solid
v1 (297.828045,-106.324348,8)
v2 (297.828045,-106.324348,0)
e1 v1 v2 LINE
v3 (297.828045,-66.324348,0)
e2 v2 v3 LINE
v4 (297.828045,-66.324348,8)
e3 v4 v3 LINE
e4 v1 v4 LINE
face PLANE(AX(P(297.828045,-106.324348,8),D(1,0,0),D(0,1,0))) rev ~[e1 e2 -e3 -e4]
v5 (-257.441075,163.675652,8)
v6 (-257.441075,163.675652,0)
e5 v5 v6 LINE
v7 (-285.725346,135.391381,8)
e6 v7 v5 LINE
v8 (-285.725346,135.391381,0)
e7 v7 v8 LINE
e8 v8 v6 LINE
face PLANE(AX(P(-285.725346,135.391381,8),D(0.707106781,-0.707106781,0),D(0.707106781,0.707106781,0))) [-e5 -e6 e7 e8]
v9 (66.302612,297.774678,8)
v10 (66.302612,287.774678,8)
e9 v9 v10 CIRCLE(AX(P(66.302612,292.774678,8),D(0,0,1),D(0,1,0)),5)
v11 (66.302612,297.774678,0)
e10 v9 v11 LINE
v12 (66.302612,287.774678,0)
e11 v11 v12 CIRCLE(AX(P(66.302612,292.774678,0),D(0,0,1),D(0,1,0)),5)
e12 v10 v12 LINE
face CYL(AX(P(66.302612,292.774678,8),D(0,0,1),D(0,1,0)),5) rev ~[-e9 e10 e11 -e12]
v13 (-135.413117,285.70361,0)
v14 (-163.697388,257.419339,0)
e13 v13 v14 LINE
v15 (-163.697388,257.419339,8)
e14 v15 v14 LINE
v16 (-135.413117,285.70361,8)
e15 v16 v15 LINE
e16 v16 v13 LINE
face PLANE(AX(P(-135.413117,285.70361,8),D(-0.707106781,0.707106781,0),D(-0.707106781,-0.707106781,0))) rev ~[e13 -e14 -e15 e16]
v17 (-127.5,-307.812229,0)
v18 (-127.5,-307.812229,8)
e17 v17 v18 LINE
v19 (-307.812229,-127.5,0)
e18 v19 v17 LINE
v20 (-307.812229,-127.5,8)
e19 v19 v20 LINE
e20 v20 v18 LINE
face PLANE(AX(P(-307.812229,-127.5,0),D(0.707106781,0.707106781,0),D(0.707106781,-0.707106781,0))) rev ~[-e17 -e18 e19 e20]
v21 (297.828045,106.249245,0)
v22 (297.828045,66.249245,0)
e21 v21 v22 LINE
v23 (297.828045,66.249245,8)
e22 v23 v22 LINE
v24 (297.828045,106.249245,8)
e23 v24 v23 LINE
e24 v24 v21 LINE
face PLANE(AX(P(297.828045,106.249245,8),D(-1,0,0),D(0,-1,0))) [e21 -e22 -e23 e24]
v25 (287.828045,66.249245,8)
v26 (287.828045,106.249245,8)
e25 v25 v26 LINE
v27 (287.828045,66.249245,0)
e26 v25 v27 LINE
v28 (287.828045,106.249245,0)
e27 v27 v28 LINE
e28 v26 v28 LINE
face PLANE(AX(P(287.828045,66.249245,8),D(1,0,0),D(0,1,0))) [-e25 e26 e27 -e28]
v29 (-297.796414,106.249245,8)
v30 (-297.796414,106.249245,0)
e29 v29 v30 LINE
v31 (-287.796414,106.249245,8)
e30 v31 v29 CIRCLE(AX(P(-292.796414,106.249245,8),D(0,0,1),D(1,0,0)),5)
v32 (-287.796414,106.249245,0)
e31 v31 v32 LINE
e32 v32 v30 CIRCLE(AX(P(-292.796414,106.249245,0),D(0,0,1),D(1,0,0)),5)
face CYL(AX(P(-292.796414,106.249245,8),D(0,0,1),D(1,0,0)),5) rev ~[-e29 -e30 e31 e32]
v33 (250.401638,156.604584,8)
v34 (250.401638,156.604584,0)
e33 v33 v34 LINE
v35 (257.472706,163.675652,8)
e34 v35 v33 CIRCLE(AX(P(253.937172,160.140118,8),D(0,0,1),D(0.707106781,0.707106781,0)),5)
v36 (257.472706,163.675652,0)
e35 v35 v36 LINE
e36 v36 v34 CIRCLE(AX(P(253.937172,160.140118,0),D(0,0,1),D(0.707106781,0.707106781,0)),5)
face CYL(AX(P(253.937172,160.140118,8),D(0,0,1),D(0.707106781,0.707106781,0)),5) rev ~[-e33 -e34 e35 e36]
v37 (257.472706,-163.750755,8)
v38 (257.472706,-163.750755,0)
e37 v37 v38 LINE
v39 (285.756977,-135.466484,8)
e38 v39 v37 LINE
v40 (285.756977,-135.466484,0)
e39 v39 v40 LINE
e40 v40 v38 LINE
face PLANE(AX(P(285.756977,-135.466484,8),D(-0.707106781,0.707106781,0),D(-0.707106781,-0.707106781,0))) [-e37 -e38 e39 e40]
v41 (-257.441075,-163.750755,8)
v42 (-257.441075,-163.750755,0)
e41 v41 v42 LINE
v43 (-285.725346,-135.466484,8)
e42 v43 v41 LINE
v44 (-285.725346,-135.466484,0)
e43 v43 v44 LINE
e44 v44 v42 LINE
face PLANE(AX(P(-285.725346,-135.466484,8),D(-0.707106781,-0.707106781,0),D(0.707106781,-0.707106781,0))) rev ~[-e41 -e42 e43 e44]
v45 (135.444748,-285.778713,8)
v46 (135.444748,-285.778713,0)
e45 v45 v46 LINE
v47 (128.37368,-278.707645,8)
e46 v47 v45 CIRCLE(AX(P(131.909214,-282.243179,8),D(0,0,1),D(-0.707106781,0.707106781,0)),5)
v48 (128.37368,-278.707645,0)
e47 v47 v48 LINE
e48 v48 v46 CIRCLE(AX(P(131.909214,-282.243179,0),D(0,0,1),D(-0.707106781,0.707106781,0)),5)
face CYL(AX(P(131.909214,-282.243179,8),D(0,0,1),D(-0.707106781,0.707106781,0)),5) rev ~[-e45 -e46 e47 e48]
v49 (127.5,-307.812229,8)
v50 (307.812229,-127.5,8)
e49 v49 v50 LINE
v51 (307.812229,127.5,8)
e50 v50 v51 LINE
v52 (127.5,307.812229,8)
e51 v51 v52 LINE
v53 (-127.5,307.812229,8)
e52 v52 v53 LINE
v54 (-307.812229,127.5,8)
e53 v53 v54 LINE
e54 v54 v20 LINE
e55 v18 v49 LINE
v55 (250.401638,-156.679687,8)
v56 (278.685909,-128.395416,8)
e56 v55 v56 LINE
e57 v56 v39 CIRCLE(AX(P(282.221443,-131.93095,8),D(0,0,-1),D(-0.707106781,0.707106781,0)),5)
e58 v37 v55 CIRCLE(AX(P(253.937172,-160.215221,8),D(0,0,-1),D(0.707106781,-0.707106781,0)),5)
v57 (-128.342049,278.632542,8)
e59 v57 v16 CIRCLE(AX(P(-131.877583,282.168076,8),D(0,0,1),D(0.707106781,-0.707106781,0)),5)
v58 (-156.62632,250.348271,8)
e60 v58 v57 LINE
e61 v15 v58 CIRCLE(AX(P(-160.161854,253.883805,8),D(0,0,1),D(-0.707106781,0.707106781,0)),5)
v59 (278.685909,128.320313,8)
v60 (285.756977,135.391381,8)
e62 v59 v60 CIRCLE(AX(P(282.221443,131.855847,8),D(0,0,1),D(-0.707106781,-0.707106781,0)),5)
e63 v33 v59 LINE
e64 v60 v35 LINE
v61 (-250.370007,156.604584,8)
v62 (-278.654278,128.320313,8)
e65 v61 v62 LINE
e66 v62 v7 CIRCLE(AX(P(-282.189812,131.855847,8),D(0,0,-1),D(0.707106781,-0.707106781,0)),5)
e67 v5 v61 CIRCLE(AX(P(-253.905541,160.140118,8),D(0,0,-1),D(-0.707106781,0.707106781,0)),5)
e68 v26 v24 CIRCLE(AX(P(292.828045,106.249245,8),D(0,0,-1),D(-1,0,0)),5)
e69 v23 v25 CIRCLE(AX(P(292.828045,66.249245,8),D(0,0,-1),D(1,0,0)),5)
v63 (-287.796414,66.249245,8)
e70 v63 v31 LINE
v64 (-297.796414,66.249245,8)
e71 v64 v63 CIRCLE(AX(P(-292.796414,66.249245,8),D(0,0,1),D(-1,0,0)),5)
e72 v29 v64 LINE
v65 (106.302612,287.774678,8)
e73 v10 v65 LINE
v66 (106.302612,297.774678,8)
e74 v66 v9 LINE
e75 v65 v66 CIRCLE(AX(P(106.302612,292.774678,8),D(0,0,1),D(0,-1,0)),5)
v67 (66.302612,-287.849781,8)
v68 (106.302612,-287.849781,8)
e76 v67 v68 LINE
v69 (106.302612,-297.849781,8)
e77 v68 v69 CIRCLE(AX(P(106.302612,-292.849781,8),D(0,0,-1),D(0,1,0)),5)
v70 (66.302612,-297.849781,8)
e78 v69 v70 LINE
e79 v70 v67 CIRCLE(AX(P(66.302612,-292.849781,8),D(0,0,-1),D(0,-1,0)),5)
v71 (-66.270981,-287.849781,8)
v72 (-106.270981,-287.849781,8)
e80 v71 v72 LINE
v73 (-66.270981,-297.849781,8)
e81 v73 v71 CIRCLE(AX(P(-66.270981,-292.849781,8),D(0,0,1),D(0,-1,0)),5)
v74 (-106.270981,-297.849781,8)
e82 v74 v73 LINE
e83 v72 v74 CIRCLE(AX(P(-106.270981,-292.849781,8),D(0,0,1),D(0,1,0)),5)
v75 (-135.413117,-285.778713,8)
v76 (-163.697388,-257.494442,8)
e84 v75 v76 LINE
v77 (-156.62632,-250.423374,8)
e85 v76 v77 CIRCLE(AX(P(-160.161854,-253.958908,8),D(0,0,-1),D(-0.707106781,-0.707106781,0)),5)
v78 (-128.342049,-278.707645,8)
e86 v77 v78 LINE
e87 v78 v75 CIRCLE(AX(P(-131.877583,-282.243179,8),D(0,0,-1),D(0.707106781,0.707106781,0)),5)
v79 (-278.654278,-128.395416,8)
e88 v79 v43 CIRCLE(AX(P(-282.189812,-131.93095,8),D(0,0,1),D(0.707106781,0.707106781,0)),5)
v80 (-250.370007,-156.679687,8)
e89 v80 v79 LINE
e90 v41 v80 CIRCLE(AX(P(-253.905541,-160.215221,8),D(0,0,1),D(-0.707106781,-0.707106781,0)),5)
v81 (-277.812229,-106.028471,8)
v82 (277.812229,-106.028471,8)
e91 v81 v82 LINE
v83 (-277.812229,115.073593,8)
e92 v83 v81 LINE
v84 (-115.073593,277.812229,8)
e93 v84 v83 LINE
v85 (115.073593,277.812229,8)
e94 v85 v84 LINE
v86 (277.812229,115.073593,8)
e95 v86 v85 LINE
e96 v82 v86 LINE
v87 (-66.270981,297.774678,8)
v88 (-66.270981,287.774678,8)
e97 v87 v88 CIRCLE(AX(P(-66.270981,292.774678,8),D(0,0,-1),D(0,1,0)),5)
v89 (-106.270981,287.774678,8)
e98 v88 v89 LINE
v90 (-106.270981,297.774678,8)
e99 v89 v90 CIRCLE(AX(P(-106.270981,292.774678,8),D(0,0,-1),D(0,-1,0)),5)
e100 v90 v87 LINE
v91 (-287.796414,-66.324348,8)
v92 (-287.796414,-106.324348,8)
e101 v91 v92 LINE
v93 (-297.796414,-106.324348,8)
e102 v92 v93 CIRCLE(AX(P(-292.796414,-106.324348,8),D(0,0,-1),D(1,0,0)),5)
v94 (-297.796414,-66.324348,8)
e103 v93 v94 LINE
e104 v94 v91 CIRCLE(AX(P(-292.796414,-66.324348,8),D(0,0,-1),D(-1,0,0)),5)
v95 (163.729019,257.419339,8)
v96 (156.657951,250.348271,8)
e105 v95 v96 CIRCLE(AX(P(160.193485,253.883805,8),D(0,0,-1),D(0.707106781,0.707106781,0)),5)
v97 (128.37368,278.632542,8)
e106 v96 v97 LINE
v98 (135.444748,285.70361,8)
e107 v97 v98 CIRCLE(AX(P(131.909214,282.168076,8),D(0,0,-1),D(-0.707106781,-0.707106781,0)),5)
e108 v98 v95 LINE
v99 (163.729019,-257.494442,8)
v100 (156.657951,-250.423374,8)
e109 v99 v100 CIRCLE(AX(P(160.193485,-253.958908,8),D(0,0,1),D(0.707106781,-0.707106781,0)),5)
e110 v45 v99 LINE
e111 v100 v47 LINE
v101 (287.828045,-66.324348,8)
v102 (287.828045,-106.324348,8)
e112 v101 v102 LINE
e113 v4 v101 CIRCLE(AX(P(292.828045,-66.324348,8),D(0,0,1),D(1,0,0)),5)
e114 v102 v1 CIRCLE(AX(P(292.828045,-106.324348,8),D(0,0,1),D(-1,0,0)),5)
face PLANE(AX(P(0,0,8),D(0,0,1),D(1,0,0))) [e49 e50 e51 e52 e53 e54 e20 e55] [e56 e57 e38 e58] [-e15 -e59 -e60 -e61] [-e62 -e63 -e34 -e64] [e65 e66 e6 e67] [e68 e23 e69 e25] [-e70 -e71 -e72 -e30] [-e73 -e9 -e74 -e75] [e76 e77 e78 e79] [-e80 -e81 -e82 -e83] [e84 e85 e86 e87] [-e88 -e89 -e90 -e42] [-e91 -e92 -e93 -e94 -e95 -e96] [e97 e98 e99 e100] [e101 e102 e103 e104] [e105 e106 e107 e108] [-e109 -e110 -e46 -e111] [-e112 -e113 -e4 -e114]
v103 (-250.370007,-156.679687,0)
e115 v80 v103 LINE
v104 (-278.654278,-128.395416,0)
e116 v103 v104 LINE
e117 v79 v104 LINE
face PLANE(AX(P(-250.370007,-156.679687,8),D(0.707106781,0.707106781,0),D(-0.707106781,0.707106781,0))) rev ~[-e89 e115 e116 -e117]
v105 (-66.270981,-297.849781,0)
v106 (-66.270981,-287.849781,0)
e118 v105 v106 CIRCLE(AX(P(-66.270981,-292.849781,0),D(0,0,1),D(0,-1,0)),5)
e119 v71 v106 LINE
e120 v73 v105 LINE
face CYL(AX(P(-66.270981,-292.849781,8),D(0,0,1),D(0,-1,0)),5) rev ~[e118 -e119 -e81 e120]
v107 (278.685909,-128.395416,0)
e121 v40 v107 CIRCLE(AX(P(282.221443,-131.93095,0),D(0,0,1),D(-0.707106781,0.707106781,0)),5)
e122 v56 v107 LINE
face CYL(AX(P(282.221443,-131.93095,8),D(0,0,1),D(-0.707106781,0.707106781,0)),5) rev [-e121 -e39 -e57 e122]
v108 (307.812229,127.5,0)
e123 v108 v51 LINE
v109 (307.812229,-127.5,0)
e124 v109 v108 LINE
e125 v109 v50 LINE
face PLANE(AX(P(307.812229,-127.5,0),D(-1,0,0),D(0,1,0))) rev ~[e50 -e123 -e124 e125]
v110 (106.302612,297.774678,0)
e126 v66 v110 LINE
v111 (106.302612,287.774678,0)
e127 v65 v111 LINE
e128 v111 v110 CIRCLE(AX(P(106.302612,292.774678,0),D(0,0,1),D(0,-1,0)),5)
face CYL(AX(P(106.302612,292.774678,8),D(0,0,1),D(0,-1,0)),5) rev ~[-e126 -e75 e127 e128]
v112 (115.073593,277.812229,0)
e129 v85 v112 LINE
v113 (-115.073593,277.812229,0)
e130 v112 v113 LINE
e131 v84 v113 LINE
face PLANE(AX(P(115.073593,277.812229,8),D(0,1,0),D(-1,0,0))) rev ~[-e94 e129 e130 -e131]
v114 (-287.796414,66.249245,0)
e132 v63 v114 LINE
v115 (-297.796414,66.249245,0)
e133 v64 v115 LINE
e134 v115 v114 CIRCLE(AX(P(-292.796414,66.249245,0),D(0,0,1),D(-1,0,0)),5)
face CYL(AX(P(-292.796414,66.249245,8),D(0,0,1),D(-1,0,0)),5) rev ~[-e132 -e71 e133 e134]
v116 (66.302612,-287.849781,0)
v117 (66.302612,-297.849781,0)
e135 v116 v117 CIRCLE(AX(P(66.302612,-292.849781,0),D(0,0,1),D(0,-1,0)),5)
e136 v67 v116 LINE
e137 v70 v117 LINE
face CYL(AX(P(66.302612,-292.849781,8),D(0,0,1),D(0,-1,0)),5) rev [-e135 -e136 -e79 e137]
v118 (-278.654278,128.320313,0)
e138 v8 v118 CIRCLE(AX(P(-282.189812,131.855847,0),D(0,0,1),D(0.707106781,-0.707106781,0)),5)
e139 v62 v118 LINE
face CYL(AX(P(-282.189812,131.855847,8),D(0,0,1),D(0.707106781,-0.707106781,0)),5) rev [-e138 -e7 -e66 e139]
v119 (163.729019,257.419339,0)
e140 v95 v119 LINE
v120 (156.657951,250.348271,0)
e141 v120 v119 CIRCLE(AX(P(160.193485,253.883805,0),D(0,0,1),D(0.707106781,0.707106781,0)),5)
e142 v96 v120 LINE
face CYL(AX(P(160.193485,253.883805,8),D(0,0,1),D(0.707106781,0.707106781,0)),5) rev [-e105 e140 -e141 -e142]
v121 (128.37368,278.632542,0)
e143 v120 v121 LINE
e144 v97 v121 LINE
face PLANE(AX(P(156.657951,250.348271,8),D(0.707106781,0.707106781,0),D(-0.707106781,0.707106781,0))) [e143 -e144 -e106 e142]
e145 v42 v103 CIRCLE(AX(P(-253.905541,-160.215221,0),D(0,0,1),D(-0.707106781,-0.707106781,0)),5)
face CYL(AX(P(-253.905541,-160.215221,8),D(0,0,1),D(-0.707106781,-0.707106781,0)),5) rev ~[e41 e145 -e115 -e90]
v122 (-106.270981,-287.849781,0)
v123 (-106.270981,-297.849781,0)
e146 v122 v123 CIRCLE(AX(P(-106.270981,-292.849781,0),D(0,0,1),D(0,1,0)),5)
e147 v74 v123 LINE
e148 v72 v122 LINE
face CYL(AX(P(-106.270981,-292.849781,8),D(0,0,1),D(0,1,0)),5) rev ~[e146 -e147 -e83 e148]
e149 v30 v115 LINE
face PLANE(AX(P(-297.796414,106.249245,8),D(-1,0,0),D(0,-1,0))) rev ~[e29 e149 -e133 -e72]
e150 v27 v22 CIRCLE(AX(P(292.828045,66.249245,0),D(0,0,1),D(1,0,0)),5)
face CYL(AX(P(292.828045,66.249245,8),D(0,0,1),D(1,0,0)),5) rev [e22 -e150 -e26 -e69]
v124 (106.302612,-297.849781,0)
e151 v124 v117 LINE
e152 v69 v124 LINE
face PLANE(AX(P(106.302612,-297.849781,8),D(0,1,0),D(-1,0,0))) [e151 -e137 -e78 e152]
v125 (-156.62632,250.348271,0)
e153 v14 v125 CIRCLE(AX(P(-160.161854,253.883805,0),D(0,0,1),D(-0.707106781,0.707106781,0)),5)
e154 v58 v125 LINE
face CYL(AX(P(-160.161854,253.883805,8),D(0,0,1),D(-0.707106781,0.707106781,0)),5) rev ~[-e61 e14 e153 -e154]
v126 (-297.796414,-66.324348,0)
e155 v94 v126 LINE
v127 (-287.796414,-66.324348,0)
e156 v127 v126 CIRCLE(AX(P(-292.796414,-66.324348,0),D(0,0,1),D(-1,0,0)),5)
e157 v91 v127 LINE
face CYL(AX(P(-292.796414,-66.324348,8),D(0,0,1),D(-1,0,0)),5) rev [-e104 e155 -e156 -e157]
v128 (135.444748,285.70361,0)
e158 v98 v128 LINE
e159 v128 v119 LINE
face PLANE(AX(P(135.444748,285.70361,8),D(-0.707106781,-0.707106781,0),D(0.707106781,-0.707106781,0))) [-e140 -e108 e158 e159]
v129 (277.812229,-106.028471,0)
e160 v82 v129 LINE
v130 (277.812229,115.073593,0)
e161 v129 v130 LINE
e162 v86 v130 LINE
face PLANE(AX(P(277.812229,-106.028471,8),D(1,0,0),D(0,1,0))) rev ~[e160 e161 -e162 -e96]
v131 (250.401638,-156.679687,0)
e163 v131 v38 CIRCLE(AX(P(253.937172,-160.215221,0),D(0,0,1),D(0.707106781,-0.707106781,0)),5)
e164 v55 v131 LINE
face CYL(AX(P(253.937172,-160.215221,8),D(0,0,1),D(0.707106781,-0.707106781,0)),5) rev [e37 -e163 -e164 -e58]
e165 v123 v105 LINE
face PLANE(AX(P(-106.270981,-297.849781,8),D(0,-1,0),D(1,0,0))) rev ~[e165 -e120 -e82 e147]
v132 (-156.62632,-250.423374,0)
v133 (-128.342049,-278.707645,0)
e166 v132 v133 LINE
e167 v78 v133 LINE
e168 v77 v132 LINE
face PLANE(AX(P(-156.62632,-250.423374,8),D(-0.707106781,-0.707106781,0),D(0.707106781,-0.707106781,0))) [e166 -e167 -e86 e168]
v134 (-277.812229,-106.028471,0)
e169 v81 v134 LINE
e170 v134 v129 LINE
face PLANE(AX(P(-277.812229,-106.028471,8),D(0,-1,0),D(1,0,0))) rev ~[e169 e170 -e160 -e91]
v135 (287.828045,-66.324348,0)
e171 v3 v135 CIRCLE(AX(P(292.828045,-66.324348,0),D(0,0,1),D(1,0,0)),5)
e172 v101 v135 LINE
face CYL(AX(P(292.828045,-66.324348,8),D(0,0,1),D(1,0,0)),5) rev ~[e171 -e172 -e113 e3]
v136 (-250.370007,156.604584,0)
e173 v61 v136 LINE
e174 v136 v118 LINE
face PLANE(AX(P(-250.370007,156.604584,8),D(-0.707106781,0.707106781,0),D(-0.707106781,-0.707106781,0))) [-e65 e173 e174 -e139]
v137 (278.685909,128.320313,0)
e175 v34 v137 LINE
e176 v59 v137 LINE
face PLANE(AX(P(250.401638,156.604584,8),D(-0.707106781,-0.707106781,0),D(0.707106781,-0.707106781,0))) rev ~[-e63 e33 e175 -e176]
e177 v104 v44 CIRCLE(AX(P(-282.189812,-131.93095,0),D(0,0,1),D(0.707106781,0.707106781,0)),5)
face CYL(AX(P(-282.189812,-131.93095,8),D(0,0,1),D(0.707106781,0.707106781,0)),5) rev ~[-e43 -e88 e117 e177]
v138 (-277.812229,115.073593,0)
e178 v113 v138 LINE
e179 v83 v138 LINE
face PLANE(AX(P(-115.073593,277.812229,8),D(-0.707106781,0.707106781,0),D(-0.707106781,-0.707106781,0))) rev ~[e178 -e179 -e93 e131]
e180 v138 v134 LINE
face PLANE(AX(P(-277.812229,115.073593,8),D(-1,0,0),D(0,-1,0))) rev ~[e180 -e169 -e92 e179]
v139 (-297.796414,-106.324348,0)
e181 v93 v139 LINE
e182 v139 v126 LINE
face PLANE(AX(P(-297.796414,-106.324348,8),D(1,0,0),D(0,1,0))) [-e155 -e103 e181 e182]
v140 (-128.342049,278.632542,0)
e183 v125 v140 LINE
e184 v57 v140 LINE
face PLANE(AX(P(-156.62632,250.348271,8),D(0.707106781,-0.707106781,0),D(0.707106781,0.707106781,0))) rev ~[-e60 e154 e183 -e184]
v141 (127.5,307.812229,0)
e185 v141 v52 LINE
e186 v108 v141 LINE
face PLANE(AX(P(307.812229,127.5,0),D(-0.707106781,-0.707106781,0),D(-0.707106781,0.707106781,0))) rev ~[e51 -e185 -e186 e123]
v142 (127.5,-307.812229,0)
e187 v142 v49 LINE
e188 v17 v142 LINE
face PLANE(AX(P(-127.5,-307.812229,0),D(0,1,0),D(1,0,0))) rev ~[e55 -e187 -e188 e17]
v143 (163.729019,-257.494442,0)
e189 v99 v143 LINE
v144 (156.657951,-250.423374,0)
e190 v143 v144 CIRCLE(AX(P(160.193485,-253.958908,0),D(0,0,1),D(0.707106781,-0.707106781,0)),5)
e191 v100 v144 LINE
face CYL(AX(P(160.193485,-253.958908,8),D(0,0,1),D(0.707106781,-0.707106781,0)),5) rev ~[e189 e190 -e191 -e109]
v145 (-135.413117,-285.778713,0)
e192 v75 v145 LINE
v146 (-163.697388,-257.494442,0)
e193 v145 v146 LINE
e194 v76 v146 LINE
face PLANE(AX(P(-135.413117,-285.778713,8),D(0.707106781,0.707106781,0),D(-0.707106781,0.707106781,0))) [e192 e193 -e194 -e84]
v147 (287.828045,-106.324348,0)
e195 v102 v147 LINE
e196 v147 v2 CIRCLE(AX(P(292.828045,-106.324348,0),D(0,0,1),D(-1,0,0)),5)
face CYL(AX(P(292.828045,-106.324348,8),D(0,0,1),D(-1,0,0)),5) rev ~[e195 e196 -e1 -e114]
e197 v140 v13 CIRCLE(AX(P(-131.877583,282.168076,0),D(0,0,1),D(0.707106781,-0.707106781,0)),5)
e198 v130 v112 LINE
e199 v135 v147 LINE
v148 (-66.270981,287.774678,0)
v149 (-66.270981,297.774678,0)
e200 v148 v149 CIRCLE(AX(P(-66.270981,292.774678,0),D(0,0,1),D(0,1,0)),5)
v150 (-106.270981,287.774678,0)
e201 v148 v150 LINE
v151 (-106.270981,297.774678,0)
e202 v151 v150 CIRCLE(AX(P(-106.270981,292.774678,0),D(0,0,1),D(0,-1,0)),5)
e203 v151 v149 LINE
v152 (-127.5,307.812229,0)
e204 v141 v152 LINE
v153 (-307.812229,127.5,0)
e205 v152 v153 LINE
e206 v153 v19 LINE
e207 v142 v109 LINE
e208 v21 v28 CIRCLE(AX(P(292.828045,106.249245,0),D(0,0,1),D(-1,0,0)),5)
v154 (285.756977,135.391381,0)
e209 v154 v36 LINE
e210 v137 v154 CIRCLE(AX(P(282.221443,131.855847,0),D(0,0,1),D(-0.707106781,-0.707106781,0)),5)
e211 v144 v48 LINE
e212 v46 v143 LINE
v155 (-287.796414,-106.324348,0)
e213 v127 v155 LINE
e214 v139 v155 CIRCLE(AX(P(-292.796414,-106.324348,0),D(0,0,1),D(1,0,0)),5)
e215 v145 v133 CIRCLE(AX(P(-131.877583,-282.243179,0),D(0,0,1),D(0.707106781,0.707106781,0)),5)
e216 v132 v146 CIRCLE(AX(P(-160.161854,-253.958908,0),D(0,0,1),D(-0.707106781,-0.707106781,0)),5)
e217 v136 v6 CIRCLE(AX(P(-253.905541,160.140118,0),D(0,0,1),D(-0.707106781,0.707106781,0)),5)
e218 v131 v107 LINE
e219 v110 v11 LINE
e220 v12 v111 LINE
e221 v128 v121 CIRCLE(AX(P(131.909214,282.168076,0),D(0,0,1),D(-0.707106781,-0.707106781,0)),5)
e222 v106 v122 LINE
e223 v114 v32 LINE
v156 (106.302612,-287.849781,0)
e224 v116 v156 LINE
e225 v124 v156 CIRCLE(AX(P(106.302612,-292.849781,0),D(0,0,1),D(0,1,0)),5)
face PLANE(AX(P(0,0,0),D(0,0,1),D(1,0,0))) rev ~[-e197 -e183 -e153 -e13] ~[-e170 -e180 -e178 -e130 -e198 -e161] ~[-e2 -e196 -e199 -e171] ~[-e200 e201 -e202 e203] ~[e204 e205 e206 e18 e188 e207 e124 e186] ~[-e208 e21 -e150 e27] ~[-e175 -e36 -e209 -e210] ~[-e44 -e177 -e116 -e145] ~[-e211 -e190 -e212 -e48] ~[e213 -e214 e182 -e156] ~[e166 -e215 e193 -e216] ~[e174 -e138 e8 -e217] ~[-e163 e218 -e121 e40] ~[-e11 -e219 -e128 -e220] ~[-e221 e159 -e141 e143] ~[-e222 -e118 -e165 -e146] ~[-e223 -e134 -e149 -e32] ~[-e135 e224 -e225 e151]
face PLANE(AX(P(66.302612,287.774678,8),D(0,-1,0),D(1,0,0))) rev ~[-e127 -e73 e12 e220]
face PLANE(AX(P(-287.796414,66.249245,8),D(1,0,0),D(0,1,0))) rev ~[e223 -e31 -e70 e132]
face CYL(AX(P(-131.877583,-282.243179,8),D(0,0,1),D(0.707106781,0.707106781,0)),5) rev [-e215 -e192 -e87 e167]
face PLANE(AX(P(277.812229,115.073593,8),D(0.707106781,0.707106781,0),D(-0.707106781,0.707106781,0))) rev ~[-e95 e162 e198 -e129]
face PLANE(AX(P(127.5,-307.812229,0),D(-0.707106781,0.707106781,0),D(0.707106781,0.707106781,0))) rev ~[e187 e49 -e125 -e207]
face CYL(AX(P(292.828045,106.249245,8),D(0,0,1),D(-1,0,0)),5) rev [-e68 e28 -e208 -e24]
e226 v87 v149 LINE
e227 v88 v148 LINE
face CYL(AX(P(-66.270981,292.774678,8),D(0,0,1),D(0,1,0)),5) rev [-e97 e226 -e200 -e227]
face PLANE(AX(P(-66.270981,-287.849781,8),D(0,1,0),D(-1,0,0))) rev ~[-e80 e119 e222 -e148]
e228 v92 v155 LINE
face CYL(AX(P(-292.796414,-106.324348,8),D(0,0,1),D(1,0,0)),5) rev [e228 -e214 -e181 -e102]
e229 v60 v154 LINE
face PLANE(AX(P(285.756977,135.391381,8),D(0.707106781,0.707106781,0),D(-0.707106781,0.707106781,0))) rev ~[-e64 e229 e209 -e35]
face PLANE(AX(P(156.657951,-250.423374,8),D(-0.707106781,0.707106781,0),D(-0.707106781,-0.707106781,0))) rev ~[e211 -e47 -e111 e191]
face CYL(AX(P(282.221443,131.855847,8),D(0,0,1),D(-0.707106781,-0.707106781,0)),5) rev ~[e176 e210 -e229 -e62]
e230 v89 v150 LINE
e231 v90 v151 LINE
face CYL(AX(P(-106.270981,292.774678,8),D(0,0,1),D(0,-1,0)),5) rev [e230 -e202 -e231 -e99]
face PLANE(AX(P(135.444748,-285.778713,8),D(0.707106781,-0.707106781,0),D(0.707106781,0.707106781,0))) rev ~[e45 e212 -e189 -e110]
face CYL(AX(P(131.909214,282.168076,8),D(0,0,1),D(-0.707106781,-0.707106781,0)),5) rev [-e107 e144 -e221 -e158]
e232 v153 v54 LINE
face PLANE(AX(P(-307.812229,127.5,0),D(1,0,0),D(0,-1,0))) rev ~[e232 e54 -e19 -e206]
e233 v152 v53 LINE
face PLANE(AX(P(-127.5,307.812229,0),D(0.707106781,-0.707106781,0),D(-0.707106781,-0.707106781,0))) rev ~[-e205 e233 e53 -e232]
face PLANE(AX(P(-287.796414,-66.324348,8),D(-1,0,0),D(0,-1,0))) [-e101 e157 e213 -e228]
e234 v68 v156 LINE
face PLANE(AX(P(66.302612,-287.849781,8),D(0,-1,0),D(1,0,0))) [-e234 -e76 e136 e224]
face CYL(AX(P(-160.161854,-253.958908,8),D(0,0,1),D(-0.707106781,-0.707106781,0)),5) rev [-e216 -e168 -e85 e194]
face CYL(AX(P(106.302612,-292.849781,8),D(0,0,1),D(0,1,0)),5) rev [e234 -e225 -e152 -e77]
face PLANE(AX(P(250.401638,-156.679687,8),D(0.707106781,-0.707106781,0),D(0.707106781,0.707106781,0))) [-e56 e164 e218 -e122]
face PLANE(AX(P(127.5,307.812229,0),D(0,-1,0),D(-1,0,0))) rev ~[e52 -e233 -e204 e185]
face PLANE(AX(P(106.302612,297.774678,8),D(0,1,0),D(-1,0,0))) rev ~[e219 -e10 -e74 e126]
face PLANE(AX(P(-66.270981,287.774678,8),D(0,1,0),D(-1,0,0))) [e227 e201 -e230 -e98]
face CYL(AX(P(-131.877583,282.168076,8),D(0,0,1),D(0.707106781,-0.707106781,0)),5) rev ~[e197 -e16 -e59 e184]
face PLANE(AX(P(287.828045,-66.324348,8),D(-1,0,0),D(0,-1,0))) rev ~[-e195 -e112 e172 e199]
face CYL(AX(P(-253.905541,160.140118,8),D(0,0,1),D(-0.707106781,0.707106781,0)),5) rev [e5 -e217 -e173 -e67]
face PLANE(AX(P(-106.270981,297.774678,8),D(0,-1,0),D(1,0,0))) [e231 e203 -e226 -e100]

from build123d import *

# Parameters (mm, degrees)
BOSS_EXTRUDE1_DEPTH     = 8
ENL_V_MAT_EXTRU_2_DEPTH = 10
ENL_V_MAT_EXTRU_3_DEPTH = 10


with BuildPart() as part:
    # Sketch1 → Boss-Extrude1 (new body)
    with BuildSketch(Plane.XY):
        Polygon((307.812229203, -127.5), (307.812229203, 127.5), (127.5, 307.812229203), (-127.5, 307.812229203), (-307.812229203, 127.5), (-307.812229203, -127.5), (-127.5, -307.812229203), (127.5, -307.812229203), align=None)
    extrude(amount=BOSS_EXTRUDE1_DEPTH)

    # Esquisse2 → Enlèv. mat.-Extru.2 (cut)
    with BuildSketch(Plane.XY.offset(8)):
        Polygon((-277.812229203, 115.073593129), (-277.812229203, -106.028471395), (277.812229203, -106.028471395), (277.812229203, 115.073593129), (115.073593129, 277.812229203), (-115.073593129, 277.812229203), align=None)
    extrude(amount=-ENL_V_MAT_EXTRU_2_DEPTH, mode=Mode.SUBTRACT)

    # Esquisse3 → Enlèv. mat.-Extru.3 (cut)
    with BuildSketch(Plane.XY.offset(8)):
        with BuildLine():
            Line((-285.725345882, 135.391380688), (-257.441074635, 163.675651935))
            ThreePointArc((-257.441074635, 163.675651935), (-250.370006823, 163.675651935), (-250.370006823, 156.604584124))
            Line((-250.370006823, 156.604584124), (-278.65427807, 128.320312876))
            ThreePointArc((-278.65427807, 128.320312876), (-285.725345882, 128.320312876), (-285.725345882, 135.391380688))
        make_face()
        with BuildLine():
            Line((-135.413116679, 285.703609891), (-163.697387927, 257.419338643))
            ThreePointArc((-163.697387927, 257.419338643), (-163.697387927, 250.348270831), (-156.626320115, 250.348270831))
            Line((-156.626320115, 250.348270831), (-128.342048868, 278.632542079))
            ThreePointArc((-128.342048868, 278.632542079), (-128.342048868, 285.703609891), (-135.413116679, 285.703609891))
        make_face()
        with BuildLine():
            Line((-106.270981056, 297.774677702), (-66.270981056, 297.774677702))
            ThreePointArc((-66.270981056, 297.774677702), (-61.270981056, 292.774677702), (-66.270981056, 287.774677702))
            Line((-66.270981056, 287.774677702), (-106.270981056, 287.774677702))
            ThreePointArc((-106.270981056, 287.774677702), (-111.270981056, 292.774677702), (-106.270981056, 297.774677702))
        make_face()
        with BuildLine():
            Line((106.302612073, 297.774677702), (66.302612073, 297.774677702))
            ThreePointArc((66.302612073, 297.774677702), (61.302612073, 292.774677702), (66.302612073, 287.774677702))
            Line((66.302612073, 287.774677702), (106.302612073, 287.774677702))
            ThreePointArc((106.302612073, 287.774677702), (111.302612073, 292.774677702), (106.302612073, 297.774677702))
        make_face()
        with BuildLine():
            Line((-297.796413694, 106.249245064), (-297.796413694, 66.249245064))
            ThreePointArc((-297.796413694, 66.249245064), (-292.796413694, 61.249245064), (-287.796413694, 66.249245064))
            Line((-287.796413694, 66.249245064), (-287.796413694, 106.249245064))
            ThreePointArc((-287.796413694, 106.249245064), (-292.796413694, 111.249245064), (-297.796413694, 106.249245064))
        make_face()
        with BuildLine():
            Line((-297.796413694, -106.324348065), (-297.796413694, -66.324348065))
            ThreePointArc((-297.796413694, -66.324348065), (-292.796413694, -61.324348065), (-287.796413694, -66.324348065))
            Line((-287.796413694, -66.324348065), (-287.796413694, -106.324348065))
            ThreePointArc((-287.796413694, -106.324348065), (-292.796413694, -111.324348065), (-297.796413694, -106.324348065))
        make_face()
        with BuildLine():
            Line((285.756976899, -135.466483688), (257.472705652, -163.750754936))
            ThreePointArc((257.472705652, -163.750754936), (250.40163784, -163.750754936), (250.40163784, -156.679687124))
            Line((250.40163784, -156.679687124), (278.685909088, -128.395415876))
            ThreePointArc((278.685909088, -128.395415876), (285.756976899, -128.395415876), (285.756976899, -135.466483688))
        make_face()
        with BuildLine():
            Line((135.444747697, -285.778712891), (163.729018944, -257.494441643))
            ThreePointArc((163.729018944, -257.494441643), (163.729018944, -250.423373832), (156.657951132, -250.423373832))
            Line((156.657951132, -250.423373832), (128.373679885, -278.707645079))
            ThreePointArc((128.373679885, -278.707645079), (128.373679885, -285.778712891), (135.444747697, -285.778712891))
        make_face()
        with BuildLine():
            Line((106.302612073, -297.849780703), (66.302612073, -297.849780703))
            ThreePointArc((66.302612073, -297.849780703), (61.302612073, -292.849780703), (66.302612073, -287.849780703))
            Line((66.302612073, -287.849780703), (106.302612073, -287.849780703))
            ThreePointArc((106.302612073, -287.849780703), (111.302612073, -292.849780703), (106.302612073, -297.849780703))
        make_face()
        with BuildLine():
            Line((-106.270981056, -297.849780703), (-66.270981056, -297.849780703))
            ThreePointArc((-66.270981056, -297.849780703), (-61.270981056, -292.849780703), (-66.270981056, -287.849780703))
            Line((-66.270981056, -287.849780703), (-106.270981056, -287.849780703))
            ThreePointArc((-106.270981056, -287.849780703), (-111.270981056, -292.849780703), (-106.270981056, -297.849780703))
        make_face()
        with BuildLine():
            Line((-135.413116679, -285.778712891), (-163.697387927, -257.494441643))
            ThreePointArc((-163.697387927, -257.494441643), (-163.697387927, -250.423373832), (-156.626320115, -250.423373832))
            Line((-156.626320115, -250.423373832), (-128.342048868, -278.707645079))
            ThreePointArc((-128.342048868, -278.707645079), (-128.342048868, -285.778712891), (-135.413116679, -285.778712891))
        make_face()
        with BuildLine():
            Line((-285.725345882, -135.466483688), (-257.441074635, -163.750754936))
            ThreePointArc((-257.441074635, -163.750754936), (-250.370006823, -163.750754936), (-250.370006823, -156.679687124))
            Line((-250.370006823, -156.679687124), (-278.65427807, -128.395415876))
            ThreePointArc((-278.65427807, -128.395415876), (-285.725345882, -128.395415876), (-285.725345882, -135.466483688))
        make_face()
        with BuildLine():
            Line((297.828044711, -106.324348065), (297.828044711, -66.324348065))
            ThreePointArc((297.828044711, -66.324348065), (292.828044711, -61.324348065), (287.828044711, -66.324348065))
            Line((287.828044711, -66.324348065), (287.828044711, -106.324348065))
            ThreePointArc((287.828044711, -106.324348065), (292.828044711, -111.324348065), (297.828044711, -106.324348065))
        make_face()
        with BuildLine():
            Line((297.828044711, 106.249245064), (297.828044711, 66.249245064))
            ThreePointArc((297.828044711, 66.249245064), (292.828044711, 61.249245064), (287.828044711, 66.249245064))
            Line((287.828044711, 66.249245064), (287.828044711, 106.249245064))
            ThreePointArc((287.828044711, 106.249245064), (292.828044711, 111.249245064), (297.828044711, 106.249245064))
        make_face()
        with BuildLine():
            Line((135.444747697, 285.703609891), (163.729018944, 257.419338643))
            ThreePointArc((163.729018944, 257.419338643), (163.729018944, 250.348270831), (156.657951132, 250.348270831))
            Line((156.657951132, 250.348270831), (128.373679885, 278.632542079))
            ThreePointArc((128.373679885, 278.632542079), (128.373679885, 285.703609891), (135.444747697, 285.703609891))
        make_face()
        with BuildLine():
            Line((285.756976899, 135.391380688), (257.472705652, 163.675651935))
            ThreePointArc((257.472705652, 163.675651935), (250.40163784, 163.675651935), (250.40163784, 156.604584124))
            Line((250.40163784, 156.604584124), (278.685909088, 128.320312876))
            ThreePointArc((278.685909088, 128.320312876), (285.756976899, 128.320312876), (285.756976899, 135.391380688))
        make_face()
    extrude(amount=-ENL_V_MAT_EXTRU_3_DEPTH, mode=Mode.SUBTRACT)


solid = part.part
